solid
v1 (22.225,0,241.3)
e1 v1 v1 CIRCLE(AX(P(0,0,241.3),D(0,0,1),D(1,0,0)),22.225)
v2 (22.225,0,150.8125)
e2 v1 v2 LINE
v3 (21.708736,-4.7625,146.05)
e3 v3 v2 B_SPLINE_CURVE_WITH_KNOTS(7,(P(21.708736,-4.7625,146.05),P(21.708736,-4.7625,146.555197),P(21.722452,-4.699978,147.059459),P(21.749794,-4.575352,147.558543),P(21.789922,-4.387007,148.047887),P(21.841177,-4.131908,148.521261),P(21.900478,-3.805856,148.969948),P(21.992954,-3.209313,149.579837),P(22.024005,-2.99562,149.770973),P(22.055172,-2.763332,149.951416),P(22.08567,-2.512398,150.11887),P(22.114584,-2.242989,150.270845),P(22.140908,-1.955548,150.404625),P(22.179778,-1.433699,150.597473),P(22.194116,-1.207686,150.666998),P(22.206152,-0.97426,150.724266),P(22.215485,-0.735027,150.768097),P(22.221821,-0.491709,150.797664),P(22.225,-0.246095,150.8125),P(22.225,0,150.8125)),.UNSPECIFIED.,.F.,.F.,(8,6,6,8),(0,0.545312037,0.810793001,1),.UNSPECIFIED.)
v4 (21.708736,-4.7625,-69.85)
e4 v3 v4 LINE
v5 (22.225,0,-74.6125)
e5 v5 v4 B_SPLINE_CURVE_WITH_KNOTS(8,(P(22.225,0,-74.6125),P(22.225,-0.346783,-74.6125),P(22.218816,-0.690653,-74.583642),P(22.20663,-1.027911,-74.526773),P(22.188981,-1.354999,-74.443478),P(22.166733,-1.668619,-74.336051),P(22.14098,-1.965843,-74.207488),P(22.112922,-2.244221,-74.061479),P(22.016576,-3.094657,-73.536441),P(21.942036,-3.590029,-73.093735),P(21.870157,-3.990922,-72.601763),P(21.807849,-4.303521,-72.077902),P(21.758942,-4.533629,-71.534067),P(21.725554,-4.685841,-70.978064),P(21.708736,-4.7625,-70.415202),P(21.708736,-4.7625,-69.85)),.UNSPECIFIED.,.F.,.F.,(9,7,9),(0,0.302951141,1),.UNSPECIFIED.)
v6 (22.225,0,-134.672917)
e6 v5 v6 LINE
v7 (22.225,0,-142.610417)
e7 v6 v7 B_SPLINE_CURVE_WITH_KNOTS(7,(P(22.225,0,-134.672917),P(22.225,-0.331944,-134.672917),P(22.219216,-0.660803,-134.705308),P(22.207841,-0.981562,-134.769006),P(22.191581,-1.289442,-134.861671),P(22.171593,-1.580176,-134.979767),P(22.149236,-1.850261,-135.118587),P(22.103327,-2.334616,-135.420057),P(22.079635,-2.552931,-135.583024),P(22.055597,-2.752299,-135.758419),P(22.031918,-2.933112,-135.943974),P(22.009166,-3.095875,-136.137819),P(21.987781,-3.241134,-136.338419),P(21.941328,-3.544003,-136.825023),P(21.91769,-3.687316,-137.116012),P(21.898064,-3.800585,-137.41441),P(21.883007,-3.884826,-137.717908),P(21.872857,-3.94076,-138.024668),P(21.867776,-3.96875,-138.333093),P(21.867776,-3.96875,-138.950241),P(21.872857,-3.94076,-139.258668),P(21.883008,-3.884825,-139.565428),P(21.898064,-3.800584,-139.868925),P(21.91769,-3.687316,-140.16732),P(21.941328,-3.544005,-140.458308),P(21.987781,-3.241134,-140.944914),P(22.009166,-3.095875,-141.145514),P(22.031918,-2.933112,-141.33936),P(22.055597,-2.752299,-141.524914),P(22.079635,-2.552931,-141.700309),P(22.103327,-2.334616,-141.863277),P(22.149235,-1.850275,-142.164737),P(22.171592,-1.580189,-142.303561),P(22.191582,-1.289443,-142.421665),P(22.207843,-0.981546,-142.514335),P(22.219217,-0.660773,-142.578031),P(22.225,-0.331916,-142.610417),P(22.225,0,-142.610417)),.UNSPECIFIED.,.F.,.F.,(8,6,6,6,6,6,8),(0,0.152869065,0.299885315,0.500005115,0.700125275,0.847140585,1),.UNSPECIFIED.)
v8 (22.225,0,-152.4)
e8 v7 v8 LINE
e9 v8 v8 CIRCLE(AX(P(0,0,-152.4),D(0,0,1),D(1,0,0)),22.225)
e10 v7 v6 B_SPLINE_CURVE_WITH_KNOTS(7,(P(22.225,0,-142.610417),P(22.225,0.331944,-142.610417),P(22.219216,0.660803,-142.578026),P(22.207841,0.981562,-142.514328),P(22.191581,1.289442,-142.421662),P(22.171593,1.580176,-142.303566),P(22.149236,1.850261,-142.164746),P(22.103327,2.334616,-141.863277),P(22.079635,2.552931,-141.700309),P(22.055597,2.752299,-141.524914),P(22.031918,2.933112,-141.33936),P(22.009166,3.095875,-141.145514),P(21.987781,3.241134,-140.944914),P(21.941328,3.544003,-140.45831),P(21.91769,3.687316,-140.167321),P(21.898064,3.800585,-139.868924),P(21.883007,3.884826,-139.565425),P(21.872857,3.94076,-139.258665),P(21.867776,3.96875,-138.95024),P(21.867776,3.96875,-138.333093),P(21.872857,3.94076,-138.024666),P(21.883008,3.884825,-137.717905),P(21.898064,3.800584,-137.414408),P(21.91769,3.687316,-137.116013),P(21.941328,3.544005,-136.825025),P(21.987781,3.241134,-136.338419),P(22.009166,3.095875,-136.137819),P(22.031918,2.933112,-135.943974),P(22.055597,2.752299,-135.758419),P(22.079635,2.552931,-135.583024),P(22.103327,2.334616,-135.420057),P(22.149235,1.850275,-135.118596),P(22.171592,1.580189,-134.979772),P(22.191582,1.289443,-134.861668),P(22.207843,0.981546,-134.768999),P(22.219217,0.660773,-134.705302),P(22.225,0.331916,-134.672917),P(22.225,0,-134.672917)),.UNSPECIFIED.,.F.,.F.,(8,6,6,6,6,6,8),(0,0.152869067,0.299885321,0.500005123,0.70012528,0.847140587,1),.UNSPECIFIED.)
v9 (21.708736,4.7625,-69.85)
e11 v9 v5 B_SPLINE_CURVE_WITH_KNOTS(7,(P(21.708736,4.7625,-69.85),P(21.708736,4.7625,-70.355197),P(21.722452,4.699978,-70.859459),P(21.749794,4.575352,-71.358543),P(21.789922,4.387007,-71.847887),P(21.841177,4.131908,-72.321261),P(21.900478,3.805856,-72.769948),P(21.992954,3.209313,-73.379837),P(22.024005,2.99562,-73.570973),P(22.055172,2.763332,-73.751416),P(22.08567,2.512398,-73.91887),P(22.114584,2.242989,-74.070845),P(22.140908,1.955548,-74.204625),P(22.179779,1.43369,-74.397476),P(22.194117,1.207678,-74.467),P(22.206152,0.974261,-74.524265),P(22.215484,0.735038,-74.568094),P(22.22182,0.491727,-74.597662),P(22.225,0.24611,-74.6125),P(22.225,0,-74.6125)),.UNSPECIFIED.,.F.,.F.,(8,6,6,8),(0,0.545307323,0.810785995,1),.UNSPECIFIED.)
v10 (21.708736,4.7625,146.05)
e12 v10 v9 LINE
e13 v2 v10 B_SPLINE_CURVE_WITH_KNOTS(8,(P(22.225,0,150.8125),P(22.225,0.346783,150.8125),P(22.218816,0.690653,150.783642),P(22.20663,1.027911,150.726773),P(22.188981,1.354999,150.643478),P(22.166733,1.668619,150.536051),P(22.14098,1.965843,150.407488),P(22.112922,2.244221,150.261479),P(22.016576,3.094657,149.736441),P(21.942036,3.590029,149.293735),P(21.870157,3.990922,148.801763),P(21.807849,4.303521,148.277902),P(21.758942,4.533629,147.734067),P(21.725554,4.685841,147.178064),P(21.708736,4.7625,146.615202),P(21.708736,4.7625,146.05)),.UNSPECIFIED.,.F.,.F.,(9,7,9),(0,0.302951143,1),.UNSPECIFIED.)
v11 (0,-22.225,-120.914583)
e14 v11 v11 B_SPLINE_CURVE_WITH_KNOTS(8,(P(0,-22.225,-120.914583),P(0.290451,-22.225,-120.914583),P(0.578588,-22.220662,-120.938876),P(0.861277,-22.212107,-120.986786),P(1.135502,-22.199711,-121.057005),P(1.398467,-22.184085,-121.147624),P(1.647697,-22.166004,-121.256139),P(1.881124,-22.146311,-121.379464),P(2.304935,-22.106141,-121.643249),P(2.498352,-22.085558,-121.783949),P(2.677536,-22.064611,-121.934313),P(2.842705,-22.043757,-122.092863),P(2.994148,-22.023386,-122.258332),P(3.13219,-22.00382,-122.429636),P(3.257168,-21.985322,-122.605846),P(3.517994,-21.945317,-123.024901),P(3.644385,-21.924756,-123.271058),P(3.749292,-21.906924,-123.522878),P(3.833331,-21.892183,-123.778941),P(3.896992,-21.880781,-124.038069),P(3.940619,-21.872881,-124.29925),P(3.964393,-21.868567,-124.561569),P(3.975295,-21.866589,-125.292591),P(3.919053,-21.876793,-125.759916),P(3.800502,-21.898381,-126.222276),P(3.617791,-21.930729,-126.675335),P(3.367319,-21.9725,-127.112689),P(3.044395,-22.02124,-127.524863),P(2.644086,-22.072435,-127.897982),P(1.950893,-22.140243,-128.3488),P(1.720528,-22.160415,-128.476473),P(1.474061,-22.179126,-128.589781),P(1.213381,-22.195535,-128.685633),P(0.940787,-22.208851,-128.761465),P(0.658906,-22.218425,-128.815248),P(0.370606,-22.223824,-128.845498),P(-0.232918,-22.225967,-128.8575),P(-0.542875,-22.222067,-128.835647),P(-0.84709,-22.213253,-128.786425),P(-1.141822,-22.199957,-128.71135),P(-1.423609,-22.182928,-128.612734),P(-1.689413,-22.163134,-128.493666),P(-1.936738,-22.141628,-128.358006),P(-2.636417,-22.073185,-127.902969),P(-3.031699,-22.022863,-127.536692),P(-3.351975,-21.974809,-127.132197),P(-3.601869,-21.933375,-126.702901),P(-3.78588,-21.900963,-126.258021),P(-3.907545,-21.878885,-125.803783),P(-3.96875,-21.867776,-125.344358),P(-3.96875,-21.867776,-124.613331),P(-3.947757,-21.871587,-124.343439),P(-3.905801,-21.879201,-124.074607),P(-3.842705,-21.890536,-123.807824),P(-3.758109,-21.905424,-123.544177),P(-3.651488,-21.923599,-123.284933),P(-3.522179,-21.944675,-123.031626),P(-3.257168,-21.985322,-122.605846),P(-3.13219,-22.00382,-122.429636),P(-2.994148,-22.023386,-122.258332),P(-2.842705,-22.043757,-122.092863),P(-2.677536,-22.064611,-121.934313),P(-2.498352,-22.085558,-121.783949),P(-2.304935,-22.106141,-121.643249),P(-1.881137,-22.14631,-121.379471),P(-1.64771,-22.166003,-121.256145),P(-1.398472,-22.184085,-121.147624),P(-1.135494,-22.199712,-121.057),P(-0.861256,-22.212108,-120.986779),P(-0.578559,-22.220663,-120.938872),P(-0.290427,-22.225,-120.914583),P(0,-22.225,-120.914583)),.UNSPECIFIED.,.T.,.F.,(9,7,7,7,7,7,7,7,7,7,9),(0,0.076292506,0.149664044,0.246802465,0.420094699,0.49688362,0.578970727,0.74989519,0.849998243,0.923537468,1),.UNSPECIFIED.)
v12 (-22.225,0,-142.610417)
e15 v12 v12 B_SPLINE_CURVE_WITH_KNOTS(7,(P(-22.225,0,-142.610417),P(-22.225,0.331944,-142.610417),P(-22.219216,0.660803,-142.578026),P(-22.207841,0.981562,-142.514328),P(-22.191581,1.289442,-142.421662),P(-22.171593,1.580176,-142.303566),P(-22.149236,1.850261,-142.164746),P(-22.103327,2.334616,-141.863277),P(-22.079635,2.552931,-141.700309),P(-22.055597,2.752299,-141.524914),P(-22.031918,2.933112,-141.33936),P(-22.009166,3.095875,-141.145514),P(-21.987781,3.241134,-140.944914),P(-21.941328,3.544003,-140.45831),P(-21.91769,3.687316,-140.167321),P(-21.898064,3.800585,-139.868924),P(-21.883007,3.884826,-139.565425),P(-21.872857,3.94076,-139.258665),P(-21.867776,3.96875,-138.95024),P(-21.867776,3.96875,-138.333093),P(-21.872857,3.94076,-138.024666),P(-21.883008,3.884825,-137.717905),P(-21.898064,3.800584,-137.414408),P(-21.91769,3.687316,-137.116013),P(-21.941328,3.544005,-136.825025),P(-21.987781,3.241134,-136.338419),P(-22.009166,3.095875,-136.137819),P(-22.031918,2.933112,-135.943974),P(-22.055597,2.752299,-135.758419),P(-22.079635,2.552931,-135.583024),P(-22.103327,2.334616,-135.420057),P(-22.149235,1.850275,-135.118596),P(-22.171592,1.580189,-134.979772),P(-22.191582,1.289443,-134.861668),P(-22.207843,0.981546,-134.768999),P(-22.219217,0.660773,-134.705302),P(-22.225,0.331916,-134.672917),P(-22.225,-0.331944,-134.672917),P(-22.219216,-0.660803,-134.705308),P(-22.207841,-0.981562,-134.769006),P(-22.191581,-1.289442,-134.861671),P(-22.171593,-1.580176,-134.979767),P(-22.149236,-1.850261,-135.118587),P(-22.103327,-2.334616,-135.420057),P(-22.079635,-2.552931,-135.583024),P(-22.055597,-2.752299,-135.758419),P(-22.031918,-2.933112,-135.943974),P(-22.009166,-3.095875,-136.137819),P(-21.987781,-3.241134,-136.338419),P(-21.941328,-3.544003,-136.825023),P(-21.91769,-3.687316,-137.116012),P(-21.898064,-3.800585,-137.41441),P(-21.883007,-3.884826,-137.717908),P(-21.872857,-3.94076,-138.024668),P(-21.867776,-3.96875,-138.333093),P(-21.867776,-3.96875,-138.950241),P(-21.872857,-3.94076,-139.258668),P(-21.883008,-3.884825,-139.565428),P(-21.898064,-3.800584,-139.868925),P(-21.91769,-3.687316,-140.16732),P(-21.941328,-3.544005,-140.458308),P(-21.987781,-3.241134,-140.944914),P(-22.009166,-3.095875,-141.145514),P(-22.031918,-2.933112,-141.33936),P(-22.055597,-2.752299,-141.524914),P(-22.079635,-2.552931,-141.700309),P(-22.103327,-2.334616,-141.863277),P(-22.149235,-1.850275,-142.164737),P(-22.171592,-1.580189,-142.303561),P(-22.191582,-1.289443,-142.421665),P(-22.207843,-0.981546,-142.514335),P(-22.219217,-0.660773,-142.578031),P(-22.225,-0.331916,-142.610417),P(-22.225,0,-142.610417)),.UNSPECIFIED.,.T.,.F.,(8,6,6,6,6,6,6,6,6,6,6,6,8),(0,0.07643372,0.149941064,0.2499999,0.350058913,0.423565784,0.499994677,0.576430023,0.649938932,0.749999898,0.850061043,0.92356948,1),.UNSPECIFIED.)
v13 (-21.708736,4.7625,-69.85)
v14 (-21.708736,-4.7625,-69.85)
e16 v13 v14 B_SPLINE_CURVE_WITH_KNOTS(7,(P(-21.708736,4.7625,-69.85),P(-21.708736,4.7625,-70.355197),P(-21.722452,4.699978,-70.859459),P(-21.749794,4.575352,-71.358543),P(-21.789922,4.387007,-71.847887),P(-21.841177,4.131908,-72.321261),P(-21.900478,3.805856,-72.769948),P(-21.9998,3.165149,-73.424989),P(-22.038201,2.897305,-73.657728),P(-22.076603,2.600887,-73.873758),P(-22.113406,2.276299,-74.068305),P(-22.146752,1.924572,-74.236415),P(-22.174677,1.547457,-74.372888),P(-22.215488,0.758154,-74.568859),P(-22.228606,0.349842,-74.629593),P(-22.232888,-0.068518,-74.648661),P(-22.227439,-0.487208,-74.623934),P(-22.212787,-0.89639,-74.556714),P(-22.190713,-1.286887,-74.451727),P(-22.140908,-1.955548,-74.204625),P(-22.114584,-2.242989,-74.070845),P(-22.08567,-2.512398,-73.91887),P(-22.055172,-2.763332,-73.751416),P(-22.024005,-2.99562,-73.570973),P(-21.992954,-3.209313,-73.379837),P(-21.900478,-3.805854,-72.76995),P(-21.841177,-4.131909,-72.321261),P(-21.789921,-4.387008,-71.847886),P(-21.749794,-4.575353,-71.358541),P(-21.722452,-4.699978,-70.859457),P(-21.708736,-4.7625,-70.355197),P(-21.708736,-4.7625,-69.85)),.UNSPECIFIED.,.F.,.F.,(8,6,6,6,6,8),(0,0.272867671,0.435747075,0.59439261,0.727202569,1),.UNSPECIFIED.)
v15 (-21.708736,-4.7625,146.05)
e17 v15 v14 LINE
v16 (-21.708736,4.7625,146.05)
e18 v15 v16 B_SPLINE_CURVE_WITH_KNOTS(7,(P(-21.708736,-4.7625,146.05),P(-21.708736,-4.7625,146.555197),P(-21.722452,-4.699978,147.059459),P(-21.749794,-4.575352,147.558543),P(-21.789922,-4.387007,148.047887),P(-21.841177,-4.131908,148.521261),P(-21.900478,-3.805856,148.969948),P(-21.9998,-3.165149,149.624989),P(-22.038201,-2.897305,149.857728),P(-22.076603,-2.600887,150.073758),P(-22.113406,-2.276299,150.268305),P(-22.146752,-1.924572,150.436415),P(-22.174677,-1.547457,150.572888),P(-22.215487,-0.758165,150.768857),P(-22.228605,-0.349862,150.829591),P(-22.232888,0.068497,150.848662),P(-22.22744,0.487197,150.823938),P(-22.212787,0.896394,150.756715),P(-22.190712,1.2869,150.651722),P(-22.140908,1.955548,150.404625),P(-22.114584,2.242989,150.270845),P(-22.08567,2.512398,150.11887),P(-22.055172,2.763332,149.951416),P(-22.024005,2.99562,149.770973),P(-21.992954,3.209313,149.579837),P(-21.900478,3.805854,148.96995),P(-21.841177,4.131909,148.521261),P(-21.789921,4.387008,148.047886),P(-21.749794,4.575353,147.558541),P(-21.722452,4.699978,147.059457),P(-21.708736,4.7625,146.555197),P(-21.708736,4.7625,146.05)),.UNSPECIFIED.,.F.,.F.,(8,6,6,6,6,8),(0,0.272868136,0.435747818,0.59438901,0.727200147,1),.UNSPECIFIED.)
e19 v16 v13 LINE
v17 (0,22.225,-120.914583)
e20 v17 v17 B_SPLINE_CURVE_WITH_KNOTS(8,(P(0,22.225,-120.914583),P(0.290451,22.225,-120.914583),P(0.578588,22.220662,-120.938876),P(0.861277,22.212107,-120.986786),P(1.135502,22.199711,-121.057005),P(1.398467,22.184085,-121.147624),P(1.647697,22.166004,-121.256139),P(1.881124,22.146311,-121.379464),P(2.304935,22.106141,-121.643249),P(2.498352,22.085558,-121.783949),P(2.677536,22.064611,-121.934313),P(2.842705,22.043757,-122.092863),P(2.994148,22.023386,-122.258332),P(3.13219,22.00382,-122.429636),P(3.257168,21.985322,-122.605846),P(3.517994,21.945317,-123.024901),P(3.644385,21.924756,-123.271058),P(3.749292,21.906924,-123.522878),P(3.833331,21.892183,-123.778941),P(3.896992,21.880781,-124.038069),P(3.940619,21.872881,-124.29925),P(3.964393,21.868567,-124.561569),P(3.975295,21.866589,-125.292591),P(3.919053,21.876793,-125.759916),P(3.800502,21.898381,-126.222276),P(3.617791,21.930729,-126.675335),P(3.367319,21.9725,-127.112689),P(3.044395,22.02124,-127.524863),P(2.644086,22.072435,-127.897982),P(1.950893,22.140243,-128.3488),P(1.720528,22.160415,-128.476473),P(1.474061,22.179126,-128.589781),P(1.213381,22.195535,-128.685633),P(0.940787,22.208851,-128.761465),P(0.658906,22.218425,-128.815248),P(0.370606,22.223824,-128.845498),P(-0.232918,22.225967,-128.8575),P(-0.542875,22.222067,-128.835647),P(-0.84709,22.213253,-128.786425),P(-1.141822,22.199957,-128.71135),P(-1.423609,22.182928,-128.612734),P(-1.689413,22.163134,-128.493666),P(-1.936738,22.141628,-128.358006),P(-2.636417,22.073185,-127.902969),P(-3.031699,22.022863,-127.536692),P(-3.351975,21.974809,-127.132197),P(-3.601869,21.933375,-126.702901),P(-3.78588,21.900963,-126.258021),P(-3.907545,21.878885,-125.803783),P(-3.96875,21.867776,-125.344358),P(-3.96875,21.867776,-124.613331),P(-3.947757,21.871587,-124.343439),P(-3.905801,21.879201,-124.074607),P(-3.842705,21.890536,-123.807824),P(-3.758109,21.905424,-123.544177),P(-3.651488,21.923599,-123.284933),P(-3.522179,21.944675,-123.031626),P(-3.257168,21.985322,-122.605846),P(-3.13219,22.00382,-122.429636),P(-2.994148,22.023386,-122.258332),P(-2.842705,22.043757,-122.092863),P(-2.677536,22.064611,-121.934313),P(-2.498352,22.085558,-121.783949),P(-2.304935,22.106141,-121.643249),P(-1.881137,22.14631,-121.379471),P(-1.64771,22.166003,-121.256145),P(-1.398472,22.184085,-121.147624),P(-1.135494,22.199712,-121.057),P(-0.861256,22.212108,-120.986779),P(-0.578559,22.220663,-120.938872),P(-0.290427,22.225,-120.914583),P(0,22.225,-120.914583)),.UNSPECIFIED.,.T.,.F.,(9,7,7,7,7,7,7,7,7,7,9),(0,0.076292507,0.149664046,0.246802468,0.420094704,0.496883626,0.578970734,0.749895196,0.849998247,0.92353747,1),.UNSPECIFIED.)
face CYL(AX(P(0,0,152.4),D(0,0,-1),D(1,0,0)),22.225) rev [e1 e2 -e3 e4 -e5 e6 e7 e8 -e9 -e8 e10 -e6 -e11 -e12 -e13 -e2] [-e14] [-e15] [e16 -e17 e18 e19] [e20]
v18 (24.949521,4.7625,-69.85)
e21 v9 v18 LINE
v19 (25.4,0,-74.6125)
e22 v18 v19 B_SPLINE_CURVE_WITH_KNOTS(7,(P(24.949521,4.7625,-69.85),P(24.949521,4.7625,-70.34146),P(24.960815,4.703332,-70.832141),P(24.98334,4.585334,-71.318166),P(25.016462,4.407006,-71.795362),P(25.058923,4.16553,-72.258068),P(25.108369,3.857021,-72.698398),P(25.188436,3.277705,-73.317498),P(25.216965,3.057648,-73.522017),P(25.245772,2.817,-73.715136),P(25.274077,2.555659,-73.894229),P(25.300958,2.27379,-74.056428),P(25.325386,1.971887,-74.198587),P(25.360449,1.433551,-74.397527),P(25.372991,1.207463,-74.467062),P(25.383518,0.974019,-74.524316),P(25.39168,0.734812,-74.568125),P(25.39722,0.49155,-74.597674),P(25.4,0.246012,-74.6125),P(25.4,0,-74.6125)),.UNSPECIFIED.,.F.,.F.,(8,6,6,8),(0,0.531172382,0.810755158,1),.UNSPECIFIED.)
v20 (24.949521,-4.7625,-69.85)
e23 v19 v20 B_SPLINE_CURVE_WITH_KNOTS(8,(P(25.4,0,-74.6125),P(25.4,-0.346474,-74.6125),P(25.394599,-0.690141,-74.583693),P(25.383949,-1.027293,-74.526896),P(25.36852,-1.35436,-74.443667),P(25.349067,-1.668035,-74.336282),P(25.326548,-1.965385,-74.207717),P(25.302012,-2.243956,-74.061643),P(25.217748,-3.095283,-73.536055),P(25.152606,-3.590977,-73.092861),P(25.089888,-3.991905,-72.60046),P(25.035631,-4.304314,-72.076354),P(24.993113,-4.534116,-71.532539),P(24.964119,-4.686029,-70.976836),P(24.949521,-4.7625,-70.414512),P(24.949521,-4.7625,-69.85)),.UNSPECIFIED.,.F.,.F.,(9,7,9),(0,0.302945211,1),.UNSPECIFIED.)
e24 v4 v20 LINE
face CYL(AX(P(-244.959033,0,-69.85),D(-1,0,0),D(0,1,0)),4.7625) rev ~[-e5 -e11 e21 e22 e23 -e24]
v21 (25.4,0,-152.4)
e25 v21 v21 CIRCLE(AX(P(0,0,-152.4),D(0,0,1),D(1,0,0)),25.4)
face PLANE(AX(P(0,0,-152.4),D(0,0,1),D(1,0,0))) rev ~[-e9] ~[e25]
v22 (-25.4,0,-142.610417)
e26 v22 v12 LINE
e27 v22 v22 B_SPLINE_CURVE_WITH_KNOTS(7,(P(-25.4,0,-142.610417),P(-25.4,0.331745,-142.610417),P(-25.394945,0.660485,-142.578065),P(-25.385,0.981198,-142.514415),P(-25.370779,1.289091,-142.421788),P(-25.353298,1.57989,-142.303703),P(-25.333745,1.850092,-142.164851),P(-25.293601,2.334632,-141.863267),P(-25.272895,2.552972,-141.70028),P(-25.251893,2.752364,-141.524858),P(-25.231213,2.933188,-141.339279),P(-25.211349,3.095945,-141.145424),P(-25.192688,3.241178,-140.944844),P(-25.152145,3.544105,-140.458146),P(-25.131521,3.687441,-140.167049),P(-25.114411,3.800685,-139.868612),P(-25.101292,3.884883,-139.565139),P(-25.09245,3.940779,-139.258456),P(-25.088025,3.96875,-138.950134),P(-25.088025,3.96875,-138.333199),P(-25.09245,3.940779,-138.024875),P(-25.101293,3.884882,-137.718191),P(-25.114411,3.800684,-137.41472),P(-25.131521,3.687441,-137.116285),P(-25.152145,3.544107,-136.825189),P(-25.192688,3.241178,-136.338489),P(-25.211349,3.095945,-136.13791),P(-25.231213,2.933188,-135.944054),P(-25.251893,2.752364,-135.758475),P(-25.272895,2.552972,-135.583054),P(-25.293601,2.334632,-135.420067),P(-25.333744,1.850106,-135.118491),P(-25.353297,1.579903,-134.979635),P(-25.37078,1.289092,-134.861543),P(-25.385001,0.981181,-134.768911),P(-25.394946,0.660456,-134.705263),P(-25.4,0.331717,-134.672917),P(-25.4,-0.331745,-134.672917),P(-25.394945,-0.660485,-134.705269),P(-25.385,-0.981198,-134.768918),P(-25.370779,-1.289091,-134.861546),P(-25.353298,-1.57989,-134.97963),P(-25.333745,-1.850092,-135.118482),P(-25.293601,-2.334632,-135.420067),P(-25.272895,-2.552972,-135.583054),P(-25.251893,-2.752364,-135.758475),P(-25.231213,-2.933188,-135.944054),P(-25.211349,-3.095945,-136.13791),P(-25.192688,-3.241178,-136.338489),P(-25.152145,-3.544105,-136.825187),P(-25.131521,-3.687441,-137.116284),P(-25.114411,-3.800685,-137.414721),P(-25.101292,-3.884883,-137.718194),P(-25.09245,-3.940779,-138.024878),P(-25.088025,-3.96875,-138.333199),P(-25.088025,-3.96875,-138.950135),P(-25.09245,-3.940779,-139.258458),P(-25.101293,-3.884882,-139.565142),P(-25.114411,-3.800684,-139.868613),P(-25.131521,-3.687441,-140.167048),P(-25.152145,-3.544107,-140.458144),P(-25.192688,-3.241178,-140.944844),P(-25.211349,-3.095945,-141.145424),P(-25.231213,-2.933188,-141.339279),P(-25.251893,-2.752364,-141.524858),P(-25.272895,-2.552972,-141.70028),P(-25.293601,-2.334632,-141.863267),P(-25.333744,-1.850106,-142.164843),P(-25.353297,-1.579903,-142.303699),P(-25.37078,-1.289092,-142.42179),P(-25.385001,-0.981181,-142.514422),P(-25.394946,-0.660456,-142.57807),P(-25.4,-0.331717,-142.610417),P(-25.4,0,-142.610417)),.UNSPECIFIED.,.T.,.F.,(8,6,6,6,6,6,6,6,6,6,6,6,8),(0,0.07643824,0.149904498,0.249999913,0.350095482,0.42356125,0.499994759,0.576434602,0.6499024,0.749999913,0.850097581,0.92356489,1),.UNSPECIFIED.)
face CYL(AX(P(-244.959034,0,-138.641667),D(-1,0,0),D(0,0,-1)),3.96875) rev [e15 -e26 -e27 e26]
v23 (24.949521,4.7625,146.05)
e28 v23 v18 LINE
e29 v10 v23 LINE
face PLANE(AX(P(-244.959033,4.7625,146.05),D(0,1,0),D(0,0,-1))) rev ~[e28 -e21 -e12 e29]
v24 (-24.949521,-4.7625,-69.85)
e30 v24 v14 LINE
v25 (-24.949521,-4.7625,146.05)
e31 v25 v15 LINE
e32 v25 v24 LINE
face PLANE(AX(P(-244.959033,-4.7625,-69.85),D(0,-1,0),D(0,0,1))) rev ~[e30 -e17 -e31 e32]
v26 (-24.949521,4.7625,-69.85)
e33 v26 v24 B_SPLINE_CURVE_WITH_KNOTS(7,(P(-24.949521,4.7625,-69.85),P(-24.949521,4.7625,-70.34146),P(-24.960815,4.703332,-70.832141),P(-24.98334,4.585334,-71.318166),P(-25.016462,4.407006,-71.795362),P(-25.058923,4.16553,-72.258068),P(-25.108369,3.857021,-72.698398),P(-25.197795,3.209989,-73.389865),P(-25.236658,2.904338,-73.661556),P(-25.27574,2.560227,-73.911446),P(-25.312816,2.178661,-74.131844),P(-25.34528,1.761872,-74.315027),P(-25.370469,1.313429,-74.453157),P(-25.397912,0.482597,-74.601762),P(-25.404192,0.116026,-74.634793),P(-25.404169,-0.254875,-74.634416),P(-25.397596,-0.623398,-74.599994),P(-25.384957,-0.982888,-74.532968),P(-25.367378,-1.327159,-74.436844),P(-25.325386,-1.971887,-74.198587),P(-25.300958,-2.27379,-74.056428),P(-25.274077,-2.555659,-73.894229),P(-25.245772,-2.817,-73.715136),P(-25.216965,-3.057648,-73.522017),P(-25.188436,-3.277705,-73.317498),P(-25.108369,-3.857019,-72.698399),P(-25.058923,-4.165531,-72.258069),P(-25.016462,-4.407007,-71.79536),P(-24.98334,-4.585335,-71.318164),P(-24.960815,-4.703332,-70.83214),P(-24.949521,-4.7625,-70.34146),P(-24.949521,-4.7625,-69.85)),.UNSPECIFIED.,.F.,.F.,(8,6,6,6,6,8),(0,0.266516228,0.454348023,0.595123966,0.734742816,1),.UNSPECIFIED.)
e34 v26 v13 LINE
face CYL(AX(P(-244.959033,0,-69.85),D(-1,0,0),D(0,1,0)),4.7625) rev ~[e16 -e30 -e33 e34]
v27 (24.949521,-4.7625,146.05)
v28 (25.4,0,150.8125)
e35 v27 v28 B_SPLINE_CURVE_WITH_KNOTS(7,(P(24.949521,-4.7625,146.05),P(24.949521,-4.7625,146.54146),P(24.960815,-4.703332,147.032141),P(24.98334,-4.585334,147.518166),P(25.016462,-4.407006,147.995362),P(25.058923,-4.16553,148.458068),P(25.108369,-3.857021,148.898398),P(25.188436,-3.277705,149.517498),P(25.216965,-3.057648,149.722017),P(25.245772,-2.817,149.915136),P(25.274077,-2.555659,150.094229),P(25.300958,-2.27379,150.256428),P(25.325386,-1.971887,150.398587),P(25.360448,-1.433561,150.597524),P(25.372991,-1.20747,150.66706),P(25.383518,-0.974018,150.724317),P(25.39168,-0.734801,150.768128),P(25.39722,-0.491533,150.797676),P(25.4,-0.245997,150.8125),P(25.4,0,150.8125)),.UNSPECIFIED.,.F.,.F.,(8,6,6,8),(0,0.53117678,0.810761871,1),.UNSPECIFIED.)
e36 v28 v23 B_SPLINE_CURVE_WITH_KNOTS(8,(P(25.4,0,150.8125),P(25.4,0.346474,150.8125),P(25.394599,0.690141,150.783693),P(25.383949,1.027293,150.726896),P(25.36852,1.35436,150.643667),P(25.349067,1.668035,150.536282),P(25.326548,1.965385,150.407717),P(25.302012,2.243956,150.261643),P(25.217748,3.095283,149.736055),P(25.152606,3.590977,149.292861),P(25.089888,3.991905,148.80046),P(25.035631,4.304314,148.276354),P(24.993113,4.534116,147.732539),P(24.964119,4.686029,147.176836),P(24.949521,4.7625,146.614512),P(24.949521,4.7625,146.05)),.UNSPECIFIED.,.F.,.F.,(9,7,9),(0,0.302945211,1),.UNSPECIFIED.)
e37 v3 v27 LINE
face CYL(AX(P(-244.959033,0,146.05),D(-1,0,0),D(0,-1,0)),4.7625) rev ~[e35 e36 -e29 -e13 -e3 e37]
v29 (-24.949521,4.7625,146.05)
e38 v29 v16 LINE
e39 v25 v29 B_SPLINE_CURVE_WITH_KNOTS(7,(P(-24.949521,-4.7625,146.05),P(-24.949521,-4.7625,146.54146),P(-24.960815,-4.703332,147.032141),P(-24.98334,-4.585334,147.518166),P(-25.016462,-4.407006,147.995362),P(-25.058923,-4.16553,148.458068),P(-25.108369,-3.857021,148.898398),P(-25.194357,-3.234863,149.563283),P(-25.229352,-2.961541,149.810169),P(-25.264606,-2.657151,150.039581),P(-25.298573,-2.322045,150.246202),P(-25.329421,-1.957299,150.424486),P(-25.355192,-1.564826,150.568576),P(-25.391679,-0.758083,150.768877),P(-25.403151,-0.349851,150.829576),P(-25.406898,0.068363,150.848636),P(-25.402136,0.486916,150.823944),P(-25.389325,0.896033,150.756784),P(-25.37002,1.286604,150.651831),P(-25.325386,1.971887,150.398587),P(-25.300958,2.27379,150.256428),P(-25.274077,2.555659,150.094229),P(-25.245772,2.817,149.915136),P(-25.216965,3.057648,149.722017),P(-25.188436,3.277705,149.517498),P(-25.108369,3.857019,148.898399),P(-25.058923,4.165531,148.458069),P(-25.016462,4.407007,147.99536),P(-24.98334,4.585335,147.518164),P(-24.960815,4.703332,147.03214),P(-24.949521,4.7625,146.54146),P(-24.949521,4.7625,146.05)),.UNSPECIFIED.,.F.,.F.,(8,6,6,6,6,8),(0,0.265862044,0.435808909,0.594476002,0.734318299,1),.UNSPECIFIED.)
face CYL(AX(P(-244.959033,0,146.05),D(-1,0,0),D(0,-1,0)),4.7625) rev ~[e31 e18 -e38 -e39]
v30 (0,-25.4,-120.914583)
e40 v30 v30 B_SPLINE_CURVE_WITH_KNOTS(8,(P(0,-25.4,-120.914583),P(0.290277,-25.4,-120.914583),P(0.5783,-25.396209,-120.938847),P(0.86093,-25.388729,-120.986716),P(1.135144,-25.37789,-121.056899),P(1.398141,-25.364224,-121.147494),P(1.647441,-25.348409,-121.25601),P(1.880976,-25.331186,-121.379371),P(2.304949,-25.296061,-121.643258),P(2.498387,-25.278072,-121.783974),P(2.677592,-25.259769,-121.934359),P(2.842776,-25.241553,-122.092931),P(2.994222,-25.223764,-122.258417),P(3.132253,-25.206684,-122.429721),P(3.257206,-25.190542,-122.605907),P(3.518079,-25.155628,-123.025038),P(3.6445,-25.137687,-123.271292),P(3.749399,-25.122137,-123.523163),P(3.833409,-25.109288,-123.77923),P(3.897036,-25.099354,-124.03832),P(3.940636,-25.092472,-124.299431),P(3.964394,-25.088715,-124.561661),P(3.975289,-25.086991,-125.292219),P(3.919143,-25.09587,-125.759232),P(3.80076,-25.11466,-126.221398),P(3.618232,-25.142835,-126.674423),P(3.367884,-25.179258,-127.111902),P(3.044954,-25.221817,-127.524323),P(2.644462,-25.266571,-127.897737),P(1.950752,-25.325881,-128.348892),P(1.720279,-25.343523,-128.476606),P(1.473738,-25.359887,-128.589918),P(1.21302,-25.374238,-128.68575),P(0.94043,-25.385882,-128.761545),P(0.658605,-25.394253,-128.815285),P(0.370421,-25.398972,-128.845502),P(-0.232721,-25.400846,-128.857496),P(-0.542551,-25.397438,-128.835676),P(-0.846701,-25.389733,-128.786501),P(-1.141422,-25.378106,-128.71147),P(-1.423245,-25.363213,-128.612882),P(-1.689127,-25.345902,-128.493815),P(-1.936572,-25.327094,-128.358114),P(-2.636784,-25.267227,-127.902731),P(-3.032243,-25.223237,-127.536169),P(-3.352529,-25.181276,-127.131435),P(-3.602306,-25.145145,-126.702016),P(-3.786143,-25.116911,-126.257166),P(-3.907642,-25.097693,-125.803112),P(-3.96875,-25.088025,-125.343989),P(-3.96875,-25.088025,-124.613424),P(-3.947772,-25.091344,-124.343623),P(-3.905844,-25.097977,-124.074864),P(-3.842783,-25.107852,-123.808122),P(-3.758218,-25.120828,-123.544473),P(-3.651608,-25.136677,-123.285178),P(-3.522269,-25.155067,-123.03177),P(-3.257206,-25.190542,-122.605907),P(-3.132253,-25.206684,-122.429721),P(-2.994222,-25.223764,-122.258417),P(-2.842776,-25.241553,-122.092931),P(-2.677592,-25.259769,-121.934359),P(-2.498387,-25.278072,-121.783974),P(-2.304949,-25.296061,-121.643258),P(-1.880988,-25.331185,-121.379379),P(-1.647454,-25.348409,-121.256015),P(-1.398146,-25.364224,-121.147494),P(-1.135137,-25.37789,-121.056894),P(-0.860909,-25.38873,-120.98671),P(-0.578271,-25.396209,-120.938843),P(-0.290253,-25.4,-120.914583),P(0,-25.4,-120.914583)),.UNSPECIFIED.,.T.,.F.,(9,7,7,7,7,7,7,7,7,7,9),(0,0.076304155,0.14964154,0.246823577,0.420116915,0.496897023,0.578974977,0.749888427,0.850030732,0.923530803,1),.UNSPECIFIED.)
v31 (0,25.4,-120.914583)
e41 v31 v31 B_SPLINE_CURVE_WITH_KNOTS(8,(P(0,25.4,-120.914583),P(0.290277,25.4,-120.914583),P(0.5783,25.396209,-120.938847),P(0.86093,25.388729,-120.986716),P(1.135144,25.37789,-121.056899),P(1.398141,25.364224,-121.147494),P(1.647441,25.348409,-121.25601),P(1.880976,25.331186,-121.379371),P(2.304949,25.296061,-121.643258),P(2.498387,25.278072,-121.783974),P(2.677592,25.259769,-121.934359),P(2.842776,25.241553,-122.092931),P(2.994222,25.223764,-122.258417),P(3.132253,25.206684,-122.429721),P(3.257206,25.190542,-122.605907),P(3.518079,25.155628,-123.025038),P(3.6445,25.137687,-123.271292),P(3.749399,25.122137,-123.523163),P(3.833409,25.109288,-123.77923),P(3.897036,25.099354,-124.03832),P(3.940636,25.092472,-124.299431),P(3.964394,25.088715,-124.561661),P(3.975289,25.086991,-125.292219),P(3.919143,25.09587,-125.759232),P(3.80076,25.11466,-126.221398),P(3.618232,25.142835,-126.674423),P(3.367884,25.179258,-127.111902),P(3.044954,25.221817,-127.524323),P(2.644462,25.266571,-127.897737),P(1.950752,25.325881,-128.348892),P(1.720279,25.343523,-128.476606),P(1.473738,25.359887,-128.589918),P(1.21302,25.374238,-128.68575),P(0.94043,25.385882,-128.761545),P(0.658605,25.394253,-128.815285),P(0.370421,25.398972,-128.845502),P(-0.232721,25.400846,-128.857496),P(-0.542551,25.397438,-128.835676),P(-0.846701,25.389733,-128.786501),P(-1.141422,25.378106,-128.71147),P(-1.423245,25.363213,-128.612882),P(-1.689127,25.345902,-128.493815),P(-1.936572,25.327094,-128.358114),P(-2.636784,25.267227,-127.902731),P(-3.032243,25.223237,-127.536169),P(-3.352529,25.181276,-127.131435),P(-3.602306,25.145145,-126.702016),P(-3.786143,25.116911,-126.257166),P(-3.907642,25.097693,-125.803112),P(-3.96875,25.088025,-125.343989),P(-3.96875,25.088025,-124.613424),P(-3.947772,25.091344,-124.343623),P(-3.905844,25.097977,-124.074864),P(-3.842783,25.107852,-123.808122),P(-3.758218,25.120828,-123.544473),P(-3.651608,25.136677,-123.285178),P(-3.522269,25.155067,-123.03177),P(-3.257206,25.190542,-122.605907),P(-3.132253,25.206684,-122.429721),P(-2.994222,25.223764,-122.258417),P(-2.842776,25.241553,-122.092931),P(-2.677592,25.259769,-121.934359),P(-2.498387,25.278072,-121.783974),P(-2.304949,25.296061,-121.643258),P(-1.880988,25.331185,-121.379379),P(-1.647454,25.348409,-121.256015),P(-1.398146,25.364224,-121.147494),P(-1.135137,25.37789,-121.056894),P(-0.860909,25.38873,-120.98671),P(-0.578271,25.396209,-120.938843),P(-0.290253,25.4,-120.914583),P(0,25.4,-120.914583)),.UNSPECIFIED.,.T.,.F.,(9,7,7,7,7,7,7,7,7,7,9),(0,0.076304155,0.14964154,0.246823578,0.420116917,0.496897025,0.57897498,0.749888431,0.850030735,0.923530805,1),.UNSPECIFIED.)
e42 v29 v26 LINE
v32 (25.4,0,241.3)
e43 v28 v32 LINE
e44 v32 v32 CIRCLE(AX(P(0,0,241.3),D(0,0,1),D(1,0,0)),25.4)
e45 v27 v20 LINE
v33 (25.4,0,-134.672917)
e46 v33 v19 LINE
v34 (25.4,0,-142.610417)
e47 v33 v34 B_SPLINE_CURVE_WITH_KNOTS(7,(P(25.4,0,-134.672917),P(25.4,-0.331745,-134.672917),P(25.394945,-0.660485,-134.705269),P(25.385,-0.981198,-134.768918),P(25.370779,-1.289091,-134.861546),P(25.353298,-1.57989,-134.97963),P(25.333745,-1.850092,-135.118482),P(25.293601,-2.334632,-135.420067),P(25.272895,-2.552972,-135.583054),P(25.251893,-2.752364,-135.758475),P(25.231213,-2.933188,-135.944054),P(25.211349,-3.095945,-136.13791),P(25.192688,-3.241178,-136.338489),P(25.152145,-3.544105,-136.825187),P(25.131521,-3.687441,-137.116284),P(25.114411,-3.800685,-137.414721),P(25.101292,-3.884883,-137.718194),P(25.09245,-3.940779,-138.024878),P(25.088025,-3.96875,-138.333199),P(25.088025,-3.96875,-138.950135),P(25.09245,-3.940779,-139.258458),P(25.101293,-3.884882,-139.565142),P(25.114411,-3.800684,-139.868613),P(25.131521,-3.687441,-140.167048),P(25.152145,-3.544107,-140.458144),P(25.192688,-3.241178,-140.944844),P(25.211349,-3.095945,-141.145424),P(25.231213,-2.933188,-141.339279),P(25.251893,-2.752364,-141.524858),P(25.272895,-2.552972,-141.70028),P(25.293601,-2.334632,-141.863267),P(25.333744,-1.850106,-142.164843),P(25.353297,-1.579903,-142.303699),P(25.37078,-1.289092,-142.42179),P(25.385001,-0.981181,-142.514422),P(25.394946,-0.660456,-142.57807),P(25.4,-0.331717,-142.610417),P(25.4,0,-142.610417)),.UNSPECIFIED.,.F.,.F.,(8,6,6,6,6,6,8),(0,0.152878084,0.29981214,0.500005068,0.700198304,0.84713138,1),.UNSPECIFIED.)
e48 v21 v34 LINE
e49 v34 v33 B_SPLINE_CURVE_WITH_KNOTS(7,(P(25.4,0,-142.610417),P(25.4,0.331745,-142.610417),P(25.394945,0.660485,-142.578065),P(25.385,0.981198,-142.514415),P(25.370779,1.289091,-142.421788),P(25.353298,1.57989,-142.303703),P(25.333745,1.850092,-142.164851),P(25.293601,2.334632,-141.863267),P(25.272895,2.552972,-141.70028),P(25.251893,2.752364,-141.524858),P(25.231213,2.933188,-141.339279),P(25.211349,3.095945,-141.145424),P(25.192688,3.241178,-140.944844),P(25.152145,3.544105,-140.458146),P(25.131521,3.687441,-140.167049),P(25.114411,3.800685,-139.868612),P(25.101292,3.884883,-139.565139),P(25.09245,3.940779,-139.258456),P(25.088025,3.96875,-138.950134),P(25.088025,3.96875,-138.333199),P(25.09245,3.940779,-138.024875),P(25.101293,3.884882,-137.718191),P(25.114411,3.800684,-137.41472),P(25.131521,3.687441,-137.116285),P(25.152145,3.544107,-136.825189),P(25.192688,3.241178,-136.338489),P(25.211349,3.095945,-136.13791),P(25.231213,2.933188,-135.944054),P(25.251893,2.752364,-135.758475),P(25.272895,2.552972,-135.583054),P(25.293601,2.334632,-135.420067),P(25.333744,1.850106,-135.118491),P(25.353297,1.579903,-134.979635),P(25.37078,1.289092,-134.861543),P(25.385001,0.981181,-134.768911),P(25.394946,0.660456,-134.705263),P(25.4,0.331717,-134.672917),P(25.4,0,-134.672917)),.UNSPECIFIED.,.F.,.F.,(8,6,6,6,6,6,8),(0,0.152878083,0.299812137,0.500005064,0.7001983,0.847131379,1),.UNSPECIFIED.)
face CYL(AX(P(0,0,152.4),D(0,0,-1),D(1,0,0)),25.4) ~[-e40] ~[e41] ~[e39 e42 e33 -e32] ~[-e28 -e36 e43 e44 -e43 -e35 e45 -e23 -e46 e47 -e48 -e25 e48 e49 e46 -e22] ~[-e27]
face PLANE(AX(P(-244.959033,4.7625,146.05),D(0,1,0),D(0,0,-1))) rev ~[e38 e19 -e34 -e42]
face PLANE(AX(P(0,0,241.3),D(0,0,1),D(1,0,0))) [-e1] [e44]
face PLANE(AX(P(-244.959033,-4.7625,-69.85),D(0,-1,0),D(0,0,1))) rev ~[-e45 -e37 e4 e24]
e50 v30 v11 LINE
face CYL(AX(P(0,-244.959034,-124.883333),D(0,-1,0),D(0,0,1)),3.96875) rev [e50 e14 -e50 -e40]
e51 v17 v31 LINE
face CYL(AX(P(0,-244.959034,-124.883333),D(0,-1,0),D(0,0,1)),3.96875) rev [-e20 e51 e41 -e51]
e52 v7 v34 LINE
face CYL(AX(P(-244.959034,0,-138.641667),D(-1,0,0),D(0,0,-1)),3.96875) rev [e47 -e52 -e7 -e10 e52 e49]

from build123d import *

# Parameters (mm, degrees)
BOSS_EXTRUDE2_DEPTH      = 152.4
BOSS_EXTRUDE2_DEPTH_BACK = 152.4
SKETCH3_R                = 25.4
SKETCH3_R_2              = 22.225
SKETCH9_R                = 25.4
SKETCH9_R_2              = 22.225
BOSS_EXTRUDE3_DEPTH      = 88.9
CUT_EXTRUDE2_DEPTH       = 244.959033446
CUT_EXTRUDE2_DEPTH_BACK  = 244.959033446
CUT_EXTRUDE3_DEPTH       = 244.959033566
CUT_EXTRUDE3_DEPTH_BACK  = 244.959033566
SKETCH6_R                = 3.96875
CUT_EXTRUDE4_DEPTH       = 244.959033566
CUT_EXTRUDE4_DEPTH_BACK  = 244.959033566
SKETCH8_R                = 3.96875


with BuildPart() as part:
    # Sketch3 → Boss-Extrude2 (new, two sides: drawn at the far end of the back side and taken through both)
    with BuildSketch(Plane.XY.offset(-BOSS_EXTRUDE2_DEPTH_BACK)):
        Circle(SKETCH3_R)
        Circle(SKETCH3_R_2, mode=Mode.SUBTRACT)
    extrude(amount=BOSS_EXTRUDE2_DEPTH + BOSS_EXTRUDE2_DEPTH_BACK)

    # Sketch9 → Boss-Extrude3 (add)
    with BuildSketch(Plane.XY.offset(152.4)):
        Circle(SKETCH9_R)
        Circle(SKETCH9_R_2, mode=Mode.SUBTRACT)
    extrude(amount=BOSS_EXTRUDE3_DEPTH)

    # Sketch5 → Cut-Extrude2 (cut, two sides: drawn at the far end of the back side and taken through both)
    with BuildSketch(Plane(origin=(0, 0, 0), x_dir=(0, 0, -1), z_dir=(1, 0, 0)).offset(-CUT_EXTRUDE2_DEPTH_BACK)):
        with BuildLine():
            Line((-146.05, 4.7625), (69.85, 4.7625))
            ThreePointArc((69.85, 4.7625), (74.6125, 0), (69.85, -4.7625))
            Line((69.85, -4.7625), (-146.05, -4.7625))
            ThreePointArc((-146.05, -4.7625), (-150.8125, 0), (-146.05, 4.7625))
        make_face()
    extrude(amount=CUT_EXTRUDE2_DEPTH + CUT_EXTRUDE2_DEPTH_BACK, mode=Mode.SUBTRACT)

    # Sketch6 → Cut-Extrude3 (cut, two sides: drawn at the far end of the back side and taken through both)
    with BuildSketch(Plane(origin=(0, 0, 0), x_dir=(0, 0, -1), z_dir=(1, 0, 0)).offset(-CUT_EXTRUDE3_DEPTH_BACK)):
        with Locations((138.641666667, 0)):
            Circle(SKETCH6_R)
    extrude(amount=CUT_EXTRUDE3_DEPTH + CUT_EXTRUDE3_DEPTH_BACK, mode=Mode.SUBTRACT)

    # Sketch8 → Cut-Extrude4 (cut, two sides: drawn at the far end of the back side and taken through both)
    with BuildSketch(Plane(origin=(0, 0, 0), x_dir=(1, 0, 0), z_dir=(0, 1, 0)).offset(-CUT_EXTRUDE4_DEPTH_BACK)):
        with Locations(Location((0, 124.883333333, 0), (0, 0, 270))):
            Circle(SKETCH8_R)
    extrude(amount=CUT_EXTRUDE4_DEPTH + CUT_EXTRUDE4_DEPTH_BACK, mode=Mode.SUBTRACT)


solid = part.part
